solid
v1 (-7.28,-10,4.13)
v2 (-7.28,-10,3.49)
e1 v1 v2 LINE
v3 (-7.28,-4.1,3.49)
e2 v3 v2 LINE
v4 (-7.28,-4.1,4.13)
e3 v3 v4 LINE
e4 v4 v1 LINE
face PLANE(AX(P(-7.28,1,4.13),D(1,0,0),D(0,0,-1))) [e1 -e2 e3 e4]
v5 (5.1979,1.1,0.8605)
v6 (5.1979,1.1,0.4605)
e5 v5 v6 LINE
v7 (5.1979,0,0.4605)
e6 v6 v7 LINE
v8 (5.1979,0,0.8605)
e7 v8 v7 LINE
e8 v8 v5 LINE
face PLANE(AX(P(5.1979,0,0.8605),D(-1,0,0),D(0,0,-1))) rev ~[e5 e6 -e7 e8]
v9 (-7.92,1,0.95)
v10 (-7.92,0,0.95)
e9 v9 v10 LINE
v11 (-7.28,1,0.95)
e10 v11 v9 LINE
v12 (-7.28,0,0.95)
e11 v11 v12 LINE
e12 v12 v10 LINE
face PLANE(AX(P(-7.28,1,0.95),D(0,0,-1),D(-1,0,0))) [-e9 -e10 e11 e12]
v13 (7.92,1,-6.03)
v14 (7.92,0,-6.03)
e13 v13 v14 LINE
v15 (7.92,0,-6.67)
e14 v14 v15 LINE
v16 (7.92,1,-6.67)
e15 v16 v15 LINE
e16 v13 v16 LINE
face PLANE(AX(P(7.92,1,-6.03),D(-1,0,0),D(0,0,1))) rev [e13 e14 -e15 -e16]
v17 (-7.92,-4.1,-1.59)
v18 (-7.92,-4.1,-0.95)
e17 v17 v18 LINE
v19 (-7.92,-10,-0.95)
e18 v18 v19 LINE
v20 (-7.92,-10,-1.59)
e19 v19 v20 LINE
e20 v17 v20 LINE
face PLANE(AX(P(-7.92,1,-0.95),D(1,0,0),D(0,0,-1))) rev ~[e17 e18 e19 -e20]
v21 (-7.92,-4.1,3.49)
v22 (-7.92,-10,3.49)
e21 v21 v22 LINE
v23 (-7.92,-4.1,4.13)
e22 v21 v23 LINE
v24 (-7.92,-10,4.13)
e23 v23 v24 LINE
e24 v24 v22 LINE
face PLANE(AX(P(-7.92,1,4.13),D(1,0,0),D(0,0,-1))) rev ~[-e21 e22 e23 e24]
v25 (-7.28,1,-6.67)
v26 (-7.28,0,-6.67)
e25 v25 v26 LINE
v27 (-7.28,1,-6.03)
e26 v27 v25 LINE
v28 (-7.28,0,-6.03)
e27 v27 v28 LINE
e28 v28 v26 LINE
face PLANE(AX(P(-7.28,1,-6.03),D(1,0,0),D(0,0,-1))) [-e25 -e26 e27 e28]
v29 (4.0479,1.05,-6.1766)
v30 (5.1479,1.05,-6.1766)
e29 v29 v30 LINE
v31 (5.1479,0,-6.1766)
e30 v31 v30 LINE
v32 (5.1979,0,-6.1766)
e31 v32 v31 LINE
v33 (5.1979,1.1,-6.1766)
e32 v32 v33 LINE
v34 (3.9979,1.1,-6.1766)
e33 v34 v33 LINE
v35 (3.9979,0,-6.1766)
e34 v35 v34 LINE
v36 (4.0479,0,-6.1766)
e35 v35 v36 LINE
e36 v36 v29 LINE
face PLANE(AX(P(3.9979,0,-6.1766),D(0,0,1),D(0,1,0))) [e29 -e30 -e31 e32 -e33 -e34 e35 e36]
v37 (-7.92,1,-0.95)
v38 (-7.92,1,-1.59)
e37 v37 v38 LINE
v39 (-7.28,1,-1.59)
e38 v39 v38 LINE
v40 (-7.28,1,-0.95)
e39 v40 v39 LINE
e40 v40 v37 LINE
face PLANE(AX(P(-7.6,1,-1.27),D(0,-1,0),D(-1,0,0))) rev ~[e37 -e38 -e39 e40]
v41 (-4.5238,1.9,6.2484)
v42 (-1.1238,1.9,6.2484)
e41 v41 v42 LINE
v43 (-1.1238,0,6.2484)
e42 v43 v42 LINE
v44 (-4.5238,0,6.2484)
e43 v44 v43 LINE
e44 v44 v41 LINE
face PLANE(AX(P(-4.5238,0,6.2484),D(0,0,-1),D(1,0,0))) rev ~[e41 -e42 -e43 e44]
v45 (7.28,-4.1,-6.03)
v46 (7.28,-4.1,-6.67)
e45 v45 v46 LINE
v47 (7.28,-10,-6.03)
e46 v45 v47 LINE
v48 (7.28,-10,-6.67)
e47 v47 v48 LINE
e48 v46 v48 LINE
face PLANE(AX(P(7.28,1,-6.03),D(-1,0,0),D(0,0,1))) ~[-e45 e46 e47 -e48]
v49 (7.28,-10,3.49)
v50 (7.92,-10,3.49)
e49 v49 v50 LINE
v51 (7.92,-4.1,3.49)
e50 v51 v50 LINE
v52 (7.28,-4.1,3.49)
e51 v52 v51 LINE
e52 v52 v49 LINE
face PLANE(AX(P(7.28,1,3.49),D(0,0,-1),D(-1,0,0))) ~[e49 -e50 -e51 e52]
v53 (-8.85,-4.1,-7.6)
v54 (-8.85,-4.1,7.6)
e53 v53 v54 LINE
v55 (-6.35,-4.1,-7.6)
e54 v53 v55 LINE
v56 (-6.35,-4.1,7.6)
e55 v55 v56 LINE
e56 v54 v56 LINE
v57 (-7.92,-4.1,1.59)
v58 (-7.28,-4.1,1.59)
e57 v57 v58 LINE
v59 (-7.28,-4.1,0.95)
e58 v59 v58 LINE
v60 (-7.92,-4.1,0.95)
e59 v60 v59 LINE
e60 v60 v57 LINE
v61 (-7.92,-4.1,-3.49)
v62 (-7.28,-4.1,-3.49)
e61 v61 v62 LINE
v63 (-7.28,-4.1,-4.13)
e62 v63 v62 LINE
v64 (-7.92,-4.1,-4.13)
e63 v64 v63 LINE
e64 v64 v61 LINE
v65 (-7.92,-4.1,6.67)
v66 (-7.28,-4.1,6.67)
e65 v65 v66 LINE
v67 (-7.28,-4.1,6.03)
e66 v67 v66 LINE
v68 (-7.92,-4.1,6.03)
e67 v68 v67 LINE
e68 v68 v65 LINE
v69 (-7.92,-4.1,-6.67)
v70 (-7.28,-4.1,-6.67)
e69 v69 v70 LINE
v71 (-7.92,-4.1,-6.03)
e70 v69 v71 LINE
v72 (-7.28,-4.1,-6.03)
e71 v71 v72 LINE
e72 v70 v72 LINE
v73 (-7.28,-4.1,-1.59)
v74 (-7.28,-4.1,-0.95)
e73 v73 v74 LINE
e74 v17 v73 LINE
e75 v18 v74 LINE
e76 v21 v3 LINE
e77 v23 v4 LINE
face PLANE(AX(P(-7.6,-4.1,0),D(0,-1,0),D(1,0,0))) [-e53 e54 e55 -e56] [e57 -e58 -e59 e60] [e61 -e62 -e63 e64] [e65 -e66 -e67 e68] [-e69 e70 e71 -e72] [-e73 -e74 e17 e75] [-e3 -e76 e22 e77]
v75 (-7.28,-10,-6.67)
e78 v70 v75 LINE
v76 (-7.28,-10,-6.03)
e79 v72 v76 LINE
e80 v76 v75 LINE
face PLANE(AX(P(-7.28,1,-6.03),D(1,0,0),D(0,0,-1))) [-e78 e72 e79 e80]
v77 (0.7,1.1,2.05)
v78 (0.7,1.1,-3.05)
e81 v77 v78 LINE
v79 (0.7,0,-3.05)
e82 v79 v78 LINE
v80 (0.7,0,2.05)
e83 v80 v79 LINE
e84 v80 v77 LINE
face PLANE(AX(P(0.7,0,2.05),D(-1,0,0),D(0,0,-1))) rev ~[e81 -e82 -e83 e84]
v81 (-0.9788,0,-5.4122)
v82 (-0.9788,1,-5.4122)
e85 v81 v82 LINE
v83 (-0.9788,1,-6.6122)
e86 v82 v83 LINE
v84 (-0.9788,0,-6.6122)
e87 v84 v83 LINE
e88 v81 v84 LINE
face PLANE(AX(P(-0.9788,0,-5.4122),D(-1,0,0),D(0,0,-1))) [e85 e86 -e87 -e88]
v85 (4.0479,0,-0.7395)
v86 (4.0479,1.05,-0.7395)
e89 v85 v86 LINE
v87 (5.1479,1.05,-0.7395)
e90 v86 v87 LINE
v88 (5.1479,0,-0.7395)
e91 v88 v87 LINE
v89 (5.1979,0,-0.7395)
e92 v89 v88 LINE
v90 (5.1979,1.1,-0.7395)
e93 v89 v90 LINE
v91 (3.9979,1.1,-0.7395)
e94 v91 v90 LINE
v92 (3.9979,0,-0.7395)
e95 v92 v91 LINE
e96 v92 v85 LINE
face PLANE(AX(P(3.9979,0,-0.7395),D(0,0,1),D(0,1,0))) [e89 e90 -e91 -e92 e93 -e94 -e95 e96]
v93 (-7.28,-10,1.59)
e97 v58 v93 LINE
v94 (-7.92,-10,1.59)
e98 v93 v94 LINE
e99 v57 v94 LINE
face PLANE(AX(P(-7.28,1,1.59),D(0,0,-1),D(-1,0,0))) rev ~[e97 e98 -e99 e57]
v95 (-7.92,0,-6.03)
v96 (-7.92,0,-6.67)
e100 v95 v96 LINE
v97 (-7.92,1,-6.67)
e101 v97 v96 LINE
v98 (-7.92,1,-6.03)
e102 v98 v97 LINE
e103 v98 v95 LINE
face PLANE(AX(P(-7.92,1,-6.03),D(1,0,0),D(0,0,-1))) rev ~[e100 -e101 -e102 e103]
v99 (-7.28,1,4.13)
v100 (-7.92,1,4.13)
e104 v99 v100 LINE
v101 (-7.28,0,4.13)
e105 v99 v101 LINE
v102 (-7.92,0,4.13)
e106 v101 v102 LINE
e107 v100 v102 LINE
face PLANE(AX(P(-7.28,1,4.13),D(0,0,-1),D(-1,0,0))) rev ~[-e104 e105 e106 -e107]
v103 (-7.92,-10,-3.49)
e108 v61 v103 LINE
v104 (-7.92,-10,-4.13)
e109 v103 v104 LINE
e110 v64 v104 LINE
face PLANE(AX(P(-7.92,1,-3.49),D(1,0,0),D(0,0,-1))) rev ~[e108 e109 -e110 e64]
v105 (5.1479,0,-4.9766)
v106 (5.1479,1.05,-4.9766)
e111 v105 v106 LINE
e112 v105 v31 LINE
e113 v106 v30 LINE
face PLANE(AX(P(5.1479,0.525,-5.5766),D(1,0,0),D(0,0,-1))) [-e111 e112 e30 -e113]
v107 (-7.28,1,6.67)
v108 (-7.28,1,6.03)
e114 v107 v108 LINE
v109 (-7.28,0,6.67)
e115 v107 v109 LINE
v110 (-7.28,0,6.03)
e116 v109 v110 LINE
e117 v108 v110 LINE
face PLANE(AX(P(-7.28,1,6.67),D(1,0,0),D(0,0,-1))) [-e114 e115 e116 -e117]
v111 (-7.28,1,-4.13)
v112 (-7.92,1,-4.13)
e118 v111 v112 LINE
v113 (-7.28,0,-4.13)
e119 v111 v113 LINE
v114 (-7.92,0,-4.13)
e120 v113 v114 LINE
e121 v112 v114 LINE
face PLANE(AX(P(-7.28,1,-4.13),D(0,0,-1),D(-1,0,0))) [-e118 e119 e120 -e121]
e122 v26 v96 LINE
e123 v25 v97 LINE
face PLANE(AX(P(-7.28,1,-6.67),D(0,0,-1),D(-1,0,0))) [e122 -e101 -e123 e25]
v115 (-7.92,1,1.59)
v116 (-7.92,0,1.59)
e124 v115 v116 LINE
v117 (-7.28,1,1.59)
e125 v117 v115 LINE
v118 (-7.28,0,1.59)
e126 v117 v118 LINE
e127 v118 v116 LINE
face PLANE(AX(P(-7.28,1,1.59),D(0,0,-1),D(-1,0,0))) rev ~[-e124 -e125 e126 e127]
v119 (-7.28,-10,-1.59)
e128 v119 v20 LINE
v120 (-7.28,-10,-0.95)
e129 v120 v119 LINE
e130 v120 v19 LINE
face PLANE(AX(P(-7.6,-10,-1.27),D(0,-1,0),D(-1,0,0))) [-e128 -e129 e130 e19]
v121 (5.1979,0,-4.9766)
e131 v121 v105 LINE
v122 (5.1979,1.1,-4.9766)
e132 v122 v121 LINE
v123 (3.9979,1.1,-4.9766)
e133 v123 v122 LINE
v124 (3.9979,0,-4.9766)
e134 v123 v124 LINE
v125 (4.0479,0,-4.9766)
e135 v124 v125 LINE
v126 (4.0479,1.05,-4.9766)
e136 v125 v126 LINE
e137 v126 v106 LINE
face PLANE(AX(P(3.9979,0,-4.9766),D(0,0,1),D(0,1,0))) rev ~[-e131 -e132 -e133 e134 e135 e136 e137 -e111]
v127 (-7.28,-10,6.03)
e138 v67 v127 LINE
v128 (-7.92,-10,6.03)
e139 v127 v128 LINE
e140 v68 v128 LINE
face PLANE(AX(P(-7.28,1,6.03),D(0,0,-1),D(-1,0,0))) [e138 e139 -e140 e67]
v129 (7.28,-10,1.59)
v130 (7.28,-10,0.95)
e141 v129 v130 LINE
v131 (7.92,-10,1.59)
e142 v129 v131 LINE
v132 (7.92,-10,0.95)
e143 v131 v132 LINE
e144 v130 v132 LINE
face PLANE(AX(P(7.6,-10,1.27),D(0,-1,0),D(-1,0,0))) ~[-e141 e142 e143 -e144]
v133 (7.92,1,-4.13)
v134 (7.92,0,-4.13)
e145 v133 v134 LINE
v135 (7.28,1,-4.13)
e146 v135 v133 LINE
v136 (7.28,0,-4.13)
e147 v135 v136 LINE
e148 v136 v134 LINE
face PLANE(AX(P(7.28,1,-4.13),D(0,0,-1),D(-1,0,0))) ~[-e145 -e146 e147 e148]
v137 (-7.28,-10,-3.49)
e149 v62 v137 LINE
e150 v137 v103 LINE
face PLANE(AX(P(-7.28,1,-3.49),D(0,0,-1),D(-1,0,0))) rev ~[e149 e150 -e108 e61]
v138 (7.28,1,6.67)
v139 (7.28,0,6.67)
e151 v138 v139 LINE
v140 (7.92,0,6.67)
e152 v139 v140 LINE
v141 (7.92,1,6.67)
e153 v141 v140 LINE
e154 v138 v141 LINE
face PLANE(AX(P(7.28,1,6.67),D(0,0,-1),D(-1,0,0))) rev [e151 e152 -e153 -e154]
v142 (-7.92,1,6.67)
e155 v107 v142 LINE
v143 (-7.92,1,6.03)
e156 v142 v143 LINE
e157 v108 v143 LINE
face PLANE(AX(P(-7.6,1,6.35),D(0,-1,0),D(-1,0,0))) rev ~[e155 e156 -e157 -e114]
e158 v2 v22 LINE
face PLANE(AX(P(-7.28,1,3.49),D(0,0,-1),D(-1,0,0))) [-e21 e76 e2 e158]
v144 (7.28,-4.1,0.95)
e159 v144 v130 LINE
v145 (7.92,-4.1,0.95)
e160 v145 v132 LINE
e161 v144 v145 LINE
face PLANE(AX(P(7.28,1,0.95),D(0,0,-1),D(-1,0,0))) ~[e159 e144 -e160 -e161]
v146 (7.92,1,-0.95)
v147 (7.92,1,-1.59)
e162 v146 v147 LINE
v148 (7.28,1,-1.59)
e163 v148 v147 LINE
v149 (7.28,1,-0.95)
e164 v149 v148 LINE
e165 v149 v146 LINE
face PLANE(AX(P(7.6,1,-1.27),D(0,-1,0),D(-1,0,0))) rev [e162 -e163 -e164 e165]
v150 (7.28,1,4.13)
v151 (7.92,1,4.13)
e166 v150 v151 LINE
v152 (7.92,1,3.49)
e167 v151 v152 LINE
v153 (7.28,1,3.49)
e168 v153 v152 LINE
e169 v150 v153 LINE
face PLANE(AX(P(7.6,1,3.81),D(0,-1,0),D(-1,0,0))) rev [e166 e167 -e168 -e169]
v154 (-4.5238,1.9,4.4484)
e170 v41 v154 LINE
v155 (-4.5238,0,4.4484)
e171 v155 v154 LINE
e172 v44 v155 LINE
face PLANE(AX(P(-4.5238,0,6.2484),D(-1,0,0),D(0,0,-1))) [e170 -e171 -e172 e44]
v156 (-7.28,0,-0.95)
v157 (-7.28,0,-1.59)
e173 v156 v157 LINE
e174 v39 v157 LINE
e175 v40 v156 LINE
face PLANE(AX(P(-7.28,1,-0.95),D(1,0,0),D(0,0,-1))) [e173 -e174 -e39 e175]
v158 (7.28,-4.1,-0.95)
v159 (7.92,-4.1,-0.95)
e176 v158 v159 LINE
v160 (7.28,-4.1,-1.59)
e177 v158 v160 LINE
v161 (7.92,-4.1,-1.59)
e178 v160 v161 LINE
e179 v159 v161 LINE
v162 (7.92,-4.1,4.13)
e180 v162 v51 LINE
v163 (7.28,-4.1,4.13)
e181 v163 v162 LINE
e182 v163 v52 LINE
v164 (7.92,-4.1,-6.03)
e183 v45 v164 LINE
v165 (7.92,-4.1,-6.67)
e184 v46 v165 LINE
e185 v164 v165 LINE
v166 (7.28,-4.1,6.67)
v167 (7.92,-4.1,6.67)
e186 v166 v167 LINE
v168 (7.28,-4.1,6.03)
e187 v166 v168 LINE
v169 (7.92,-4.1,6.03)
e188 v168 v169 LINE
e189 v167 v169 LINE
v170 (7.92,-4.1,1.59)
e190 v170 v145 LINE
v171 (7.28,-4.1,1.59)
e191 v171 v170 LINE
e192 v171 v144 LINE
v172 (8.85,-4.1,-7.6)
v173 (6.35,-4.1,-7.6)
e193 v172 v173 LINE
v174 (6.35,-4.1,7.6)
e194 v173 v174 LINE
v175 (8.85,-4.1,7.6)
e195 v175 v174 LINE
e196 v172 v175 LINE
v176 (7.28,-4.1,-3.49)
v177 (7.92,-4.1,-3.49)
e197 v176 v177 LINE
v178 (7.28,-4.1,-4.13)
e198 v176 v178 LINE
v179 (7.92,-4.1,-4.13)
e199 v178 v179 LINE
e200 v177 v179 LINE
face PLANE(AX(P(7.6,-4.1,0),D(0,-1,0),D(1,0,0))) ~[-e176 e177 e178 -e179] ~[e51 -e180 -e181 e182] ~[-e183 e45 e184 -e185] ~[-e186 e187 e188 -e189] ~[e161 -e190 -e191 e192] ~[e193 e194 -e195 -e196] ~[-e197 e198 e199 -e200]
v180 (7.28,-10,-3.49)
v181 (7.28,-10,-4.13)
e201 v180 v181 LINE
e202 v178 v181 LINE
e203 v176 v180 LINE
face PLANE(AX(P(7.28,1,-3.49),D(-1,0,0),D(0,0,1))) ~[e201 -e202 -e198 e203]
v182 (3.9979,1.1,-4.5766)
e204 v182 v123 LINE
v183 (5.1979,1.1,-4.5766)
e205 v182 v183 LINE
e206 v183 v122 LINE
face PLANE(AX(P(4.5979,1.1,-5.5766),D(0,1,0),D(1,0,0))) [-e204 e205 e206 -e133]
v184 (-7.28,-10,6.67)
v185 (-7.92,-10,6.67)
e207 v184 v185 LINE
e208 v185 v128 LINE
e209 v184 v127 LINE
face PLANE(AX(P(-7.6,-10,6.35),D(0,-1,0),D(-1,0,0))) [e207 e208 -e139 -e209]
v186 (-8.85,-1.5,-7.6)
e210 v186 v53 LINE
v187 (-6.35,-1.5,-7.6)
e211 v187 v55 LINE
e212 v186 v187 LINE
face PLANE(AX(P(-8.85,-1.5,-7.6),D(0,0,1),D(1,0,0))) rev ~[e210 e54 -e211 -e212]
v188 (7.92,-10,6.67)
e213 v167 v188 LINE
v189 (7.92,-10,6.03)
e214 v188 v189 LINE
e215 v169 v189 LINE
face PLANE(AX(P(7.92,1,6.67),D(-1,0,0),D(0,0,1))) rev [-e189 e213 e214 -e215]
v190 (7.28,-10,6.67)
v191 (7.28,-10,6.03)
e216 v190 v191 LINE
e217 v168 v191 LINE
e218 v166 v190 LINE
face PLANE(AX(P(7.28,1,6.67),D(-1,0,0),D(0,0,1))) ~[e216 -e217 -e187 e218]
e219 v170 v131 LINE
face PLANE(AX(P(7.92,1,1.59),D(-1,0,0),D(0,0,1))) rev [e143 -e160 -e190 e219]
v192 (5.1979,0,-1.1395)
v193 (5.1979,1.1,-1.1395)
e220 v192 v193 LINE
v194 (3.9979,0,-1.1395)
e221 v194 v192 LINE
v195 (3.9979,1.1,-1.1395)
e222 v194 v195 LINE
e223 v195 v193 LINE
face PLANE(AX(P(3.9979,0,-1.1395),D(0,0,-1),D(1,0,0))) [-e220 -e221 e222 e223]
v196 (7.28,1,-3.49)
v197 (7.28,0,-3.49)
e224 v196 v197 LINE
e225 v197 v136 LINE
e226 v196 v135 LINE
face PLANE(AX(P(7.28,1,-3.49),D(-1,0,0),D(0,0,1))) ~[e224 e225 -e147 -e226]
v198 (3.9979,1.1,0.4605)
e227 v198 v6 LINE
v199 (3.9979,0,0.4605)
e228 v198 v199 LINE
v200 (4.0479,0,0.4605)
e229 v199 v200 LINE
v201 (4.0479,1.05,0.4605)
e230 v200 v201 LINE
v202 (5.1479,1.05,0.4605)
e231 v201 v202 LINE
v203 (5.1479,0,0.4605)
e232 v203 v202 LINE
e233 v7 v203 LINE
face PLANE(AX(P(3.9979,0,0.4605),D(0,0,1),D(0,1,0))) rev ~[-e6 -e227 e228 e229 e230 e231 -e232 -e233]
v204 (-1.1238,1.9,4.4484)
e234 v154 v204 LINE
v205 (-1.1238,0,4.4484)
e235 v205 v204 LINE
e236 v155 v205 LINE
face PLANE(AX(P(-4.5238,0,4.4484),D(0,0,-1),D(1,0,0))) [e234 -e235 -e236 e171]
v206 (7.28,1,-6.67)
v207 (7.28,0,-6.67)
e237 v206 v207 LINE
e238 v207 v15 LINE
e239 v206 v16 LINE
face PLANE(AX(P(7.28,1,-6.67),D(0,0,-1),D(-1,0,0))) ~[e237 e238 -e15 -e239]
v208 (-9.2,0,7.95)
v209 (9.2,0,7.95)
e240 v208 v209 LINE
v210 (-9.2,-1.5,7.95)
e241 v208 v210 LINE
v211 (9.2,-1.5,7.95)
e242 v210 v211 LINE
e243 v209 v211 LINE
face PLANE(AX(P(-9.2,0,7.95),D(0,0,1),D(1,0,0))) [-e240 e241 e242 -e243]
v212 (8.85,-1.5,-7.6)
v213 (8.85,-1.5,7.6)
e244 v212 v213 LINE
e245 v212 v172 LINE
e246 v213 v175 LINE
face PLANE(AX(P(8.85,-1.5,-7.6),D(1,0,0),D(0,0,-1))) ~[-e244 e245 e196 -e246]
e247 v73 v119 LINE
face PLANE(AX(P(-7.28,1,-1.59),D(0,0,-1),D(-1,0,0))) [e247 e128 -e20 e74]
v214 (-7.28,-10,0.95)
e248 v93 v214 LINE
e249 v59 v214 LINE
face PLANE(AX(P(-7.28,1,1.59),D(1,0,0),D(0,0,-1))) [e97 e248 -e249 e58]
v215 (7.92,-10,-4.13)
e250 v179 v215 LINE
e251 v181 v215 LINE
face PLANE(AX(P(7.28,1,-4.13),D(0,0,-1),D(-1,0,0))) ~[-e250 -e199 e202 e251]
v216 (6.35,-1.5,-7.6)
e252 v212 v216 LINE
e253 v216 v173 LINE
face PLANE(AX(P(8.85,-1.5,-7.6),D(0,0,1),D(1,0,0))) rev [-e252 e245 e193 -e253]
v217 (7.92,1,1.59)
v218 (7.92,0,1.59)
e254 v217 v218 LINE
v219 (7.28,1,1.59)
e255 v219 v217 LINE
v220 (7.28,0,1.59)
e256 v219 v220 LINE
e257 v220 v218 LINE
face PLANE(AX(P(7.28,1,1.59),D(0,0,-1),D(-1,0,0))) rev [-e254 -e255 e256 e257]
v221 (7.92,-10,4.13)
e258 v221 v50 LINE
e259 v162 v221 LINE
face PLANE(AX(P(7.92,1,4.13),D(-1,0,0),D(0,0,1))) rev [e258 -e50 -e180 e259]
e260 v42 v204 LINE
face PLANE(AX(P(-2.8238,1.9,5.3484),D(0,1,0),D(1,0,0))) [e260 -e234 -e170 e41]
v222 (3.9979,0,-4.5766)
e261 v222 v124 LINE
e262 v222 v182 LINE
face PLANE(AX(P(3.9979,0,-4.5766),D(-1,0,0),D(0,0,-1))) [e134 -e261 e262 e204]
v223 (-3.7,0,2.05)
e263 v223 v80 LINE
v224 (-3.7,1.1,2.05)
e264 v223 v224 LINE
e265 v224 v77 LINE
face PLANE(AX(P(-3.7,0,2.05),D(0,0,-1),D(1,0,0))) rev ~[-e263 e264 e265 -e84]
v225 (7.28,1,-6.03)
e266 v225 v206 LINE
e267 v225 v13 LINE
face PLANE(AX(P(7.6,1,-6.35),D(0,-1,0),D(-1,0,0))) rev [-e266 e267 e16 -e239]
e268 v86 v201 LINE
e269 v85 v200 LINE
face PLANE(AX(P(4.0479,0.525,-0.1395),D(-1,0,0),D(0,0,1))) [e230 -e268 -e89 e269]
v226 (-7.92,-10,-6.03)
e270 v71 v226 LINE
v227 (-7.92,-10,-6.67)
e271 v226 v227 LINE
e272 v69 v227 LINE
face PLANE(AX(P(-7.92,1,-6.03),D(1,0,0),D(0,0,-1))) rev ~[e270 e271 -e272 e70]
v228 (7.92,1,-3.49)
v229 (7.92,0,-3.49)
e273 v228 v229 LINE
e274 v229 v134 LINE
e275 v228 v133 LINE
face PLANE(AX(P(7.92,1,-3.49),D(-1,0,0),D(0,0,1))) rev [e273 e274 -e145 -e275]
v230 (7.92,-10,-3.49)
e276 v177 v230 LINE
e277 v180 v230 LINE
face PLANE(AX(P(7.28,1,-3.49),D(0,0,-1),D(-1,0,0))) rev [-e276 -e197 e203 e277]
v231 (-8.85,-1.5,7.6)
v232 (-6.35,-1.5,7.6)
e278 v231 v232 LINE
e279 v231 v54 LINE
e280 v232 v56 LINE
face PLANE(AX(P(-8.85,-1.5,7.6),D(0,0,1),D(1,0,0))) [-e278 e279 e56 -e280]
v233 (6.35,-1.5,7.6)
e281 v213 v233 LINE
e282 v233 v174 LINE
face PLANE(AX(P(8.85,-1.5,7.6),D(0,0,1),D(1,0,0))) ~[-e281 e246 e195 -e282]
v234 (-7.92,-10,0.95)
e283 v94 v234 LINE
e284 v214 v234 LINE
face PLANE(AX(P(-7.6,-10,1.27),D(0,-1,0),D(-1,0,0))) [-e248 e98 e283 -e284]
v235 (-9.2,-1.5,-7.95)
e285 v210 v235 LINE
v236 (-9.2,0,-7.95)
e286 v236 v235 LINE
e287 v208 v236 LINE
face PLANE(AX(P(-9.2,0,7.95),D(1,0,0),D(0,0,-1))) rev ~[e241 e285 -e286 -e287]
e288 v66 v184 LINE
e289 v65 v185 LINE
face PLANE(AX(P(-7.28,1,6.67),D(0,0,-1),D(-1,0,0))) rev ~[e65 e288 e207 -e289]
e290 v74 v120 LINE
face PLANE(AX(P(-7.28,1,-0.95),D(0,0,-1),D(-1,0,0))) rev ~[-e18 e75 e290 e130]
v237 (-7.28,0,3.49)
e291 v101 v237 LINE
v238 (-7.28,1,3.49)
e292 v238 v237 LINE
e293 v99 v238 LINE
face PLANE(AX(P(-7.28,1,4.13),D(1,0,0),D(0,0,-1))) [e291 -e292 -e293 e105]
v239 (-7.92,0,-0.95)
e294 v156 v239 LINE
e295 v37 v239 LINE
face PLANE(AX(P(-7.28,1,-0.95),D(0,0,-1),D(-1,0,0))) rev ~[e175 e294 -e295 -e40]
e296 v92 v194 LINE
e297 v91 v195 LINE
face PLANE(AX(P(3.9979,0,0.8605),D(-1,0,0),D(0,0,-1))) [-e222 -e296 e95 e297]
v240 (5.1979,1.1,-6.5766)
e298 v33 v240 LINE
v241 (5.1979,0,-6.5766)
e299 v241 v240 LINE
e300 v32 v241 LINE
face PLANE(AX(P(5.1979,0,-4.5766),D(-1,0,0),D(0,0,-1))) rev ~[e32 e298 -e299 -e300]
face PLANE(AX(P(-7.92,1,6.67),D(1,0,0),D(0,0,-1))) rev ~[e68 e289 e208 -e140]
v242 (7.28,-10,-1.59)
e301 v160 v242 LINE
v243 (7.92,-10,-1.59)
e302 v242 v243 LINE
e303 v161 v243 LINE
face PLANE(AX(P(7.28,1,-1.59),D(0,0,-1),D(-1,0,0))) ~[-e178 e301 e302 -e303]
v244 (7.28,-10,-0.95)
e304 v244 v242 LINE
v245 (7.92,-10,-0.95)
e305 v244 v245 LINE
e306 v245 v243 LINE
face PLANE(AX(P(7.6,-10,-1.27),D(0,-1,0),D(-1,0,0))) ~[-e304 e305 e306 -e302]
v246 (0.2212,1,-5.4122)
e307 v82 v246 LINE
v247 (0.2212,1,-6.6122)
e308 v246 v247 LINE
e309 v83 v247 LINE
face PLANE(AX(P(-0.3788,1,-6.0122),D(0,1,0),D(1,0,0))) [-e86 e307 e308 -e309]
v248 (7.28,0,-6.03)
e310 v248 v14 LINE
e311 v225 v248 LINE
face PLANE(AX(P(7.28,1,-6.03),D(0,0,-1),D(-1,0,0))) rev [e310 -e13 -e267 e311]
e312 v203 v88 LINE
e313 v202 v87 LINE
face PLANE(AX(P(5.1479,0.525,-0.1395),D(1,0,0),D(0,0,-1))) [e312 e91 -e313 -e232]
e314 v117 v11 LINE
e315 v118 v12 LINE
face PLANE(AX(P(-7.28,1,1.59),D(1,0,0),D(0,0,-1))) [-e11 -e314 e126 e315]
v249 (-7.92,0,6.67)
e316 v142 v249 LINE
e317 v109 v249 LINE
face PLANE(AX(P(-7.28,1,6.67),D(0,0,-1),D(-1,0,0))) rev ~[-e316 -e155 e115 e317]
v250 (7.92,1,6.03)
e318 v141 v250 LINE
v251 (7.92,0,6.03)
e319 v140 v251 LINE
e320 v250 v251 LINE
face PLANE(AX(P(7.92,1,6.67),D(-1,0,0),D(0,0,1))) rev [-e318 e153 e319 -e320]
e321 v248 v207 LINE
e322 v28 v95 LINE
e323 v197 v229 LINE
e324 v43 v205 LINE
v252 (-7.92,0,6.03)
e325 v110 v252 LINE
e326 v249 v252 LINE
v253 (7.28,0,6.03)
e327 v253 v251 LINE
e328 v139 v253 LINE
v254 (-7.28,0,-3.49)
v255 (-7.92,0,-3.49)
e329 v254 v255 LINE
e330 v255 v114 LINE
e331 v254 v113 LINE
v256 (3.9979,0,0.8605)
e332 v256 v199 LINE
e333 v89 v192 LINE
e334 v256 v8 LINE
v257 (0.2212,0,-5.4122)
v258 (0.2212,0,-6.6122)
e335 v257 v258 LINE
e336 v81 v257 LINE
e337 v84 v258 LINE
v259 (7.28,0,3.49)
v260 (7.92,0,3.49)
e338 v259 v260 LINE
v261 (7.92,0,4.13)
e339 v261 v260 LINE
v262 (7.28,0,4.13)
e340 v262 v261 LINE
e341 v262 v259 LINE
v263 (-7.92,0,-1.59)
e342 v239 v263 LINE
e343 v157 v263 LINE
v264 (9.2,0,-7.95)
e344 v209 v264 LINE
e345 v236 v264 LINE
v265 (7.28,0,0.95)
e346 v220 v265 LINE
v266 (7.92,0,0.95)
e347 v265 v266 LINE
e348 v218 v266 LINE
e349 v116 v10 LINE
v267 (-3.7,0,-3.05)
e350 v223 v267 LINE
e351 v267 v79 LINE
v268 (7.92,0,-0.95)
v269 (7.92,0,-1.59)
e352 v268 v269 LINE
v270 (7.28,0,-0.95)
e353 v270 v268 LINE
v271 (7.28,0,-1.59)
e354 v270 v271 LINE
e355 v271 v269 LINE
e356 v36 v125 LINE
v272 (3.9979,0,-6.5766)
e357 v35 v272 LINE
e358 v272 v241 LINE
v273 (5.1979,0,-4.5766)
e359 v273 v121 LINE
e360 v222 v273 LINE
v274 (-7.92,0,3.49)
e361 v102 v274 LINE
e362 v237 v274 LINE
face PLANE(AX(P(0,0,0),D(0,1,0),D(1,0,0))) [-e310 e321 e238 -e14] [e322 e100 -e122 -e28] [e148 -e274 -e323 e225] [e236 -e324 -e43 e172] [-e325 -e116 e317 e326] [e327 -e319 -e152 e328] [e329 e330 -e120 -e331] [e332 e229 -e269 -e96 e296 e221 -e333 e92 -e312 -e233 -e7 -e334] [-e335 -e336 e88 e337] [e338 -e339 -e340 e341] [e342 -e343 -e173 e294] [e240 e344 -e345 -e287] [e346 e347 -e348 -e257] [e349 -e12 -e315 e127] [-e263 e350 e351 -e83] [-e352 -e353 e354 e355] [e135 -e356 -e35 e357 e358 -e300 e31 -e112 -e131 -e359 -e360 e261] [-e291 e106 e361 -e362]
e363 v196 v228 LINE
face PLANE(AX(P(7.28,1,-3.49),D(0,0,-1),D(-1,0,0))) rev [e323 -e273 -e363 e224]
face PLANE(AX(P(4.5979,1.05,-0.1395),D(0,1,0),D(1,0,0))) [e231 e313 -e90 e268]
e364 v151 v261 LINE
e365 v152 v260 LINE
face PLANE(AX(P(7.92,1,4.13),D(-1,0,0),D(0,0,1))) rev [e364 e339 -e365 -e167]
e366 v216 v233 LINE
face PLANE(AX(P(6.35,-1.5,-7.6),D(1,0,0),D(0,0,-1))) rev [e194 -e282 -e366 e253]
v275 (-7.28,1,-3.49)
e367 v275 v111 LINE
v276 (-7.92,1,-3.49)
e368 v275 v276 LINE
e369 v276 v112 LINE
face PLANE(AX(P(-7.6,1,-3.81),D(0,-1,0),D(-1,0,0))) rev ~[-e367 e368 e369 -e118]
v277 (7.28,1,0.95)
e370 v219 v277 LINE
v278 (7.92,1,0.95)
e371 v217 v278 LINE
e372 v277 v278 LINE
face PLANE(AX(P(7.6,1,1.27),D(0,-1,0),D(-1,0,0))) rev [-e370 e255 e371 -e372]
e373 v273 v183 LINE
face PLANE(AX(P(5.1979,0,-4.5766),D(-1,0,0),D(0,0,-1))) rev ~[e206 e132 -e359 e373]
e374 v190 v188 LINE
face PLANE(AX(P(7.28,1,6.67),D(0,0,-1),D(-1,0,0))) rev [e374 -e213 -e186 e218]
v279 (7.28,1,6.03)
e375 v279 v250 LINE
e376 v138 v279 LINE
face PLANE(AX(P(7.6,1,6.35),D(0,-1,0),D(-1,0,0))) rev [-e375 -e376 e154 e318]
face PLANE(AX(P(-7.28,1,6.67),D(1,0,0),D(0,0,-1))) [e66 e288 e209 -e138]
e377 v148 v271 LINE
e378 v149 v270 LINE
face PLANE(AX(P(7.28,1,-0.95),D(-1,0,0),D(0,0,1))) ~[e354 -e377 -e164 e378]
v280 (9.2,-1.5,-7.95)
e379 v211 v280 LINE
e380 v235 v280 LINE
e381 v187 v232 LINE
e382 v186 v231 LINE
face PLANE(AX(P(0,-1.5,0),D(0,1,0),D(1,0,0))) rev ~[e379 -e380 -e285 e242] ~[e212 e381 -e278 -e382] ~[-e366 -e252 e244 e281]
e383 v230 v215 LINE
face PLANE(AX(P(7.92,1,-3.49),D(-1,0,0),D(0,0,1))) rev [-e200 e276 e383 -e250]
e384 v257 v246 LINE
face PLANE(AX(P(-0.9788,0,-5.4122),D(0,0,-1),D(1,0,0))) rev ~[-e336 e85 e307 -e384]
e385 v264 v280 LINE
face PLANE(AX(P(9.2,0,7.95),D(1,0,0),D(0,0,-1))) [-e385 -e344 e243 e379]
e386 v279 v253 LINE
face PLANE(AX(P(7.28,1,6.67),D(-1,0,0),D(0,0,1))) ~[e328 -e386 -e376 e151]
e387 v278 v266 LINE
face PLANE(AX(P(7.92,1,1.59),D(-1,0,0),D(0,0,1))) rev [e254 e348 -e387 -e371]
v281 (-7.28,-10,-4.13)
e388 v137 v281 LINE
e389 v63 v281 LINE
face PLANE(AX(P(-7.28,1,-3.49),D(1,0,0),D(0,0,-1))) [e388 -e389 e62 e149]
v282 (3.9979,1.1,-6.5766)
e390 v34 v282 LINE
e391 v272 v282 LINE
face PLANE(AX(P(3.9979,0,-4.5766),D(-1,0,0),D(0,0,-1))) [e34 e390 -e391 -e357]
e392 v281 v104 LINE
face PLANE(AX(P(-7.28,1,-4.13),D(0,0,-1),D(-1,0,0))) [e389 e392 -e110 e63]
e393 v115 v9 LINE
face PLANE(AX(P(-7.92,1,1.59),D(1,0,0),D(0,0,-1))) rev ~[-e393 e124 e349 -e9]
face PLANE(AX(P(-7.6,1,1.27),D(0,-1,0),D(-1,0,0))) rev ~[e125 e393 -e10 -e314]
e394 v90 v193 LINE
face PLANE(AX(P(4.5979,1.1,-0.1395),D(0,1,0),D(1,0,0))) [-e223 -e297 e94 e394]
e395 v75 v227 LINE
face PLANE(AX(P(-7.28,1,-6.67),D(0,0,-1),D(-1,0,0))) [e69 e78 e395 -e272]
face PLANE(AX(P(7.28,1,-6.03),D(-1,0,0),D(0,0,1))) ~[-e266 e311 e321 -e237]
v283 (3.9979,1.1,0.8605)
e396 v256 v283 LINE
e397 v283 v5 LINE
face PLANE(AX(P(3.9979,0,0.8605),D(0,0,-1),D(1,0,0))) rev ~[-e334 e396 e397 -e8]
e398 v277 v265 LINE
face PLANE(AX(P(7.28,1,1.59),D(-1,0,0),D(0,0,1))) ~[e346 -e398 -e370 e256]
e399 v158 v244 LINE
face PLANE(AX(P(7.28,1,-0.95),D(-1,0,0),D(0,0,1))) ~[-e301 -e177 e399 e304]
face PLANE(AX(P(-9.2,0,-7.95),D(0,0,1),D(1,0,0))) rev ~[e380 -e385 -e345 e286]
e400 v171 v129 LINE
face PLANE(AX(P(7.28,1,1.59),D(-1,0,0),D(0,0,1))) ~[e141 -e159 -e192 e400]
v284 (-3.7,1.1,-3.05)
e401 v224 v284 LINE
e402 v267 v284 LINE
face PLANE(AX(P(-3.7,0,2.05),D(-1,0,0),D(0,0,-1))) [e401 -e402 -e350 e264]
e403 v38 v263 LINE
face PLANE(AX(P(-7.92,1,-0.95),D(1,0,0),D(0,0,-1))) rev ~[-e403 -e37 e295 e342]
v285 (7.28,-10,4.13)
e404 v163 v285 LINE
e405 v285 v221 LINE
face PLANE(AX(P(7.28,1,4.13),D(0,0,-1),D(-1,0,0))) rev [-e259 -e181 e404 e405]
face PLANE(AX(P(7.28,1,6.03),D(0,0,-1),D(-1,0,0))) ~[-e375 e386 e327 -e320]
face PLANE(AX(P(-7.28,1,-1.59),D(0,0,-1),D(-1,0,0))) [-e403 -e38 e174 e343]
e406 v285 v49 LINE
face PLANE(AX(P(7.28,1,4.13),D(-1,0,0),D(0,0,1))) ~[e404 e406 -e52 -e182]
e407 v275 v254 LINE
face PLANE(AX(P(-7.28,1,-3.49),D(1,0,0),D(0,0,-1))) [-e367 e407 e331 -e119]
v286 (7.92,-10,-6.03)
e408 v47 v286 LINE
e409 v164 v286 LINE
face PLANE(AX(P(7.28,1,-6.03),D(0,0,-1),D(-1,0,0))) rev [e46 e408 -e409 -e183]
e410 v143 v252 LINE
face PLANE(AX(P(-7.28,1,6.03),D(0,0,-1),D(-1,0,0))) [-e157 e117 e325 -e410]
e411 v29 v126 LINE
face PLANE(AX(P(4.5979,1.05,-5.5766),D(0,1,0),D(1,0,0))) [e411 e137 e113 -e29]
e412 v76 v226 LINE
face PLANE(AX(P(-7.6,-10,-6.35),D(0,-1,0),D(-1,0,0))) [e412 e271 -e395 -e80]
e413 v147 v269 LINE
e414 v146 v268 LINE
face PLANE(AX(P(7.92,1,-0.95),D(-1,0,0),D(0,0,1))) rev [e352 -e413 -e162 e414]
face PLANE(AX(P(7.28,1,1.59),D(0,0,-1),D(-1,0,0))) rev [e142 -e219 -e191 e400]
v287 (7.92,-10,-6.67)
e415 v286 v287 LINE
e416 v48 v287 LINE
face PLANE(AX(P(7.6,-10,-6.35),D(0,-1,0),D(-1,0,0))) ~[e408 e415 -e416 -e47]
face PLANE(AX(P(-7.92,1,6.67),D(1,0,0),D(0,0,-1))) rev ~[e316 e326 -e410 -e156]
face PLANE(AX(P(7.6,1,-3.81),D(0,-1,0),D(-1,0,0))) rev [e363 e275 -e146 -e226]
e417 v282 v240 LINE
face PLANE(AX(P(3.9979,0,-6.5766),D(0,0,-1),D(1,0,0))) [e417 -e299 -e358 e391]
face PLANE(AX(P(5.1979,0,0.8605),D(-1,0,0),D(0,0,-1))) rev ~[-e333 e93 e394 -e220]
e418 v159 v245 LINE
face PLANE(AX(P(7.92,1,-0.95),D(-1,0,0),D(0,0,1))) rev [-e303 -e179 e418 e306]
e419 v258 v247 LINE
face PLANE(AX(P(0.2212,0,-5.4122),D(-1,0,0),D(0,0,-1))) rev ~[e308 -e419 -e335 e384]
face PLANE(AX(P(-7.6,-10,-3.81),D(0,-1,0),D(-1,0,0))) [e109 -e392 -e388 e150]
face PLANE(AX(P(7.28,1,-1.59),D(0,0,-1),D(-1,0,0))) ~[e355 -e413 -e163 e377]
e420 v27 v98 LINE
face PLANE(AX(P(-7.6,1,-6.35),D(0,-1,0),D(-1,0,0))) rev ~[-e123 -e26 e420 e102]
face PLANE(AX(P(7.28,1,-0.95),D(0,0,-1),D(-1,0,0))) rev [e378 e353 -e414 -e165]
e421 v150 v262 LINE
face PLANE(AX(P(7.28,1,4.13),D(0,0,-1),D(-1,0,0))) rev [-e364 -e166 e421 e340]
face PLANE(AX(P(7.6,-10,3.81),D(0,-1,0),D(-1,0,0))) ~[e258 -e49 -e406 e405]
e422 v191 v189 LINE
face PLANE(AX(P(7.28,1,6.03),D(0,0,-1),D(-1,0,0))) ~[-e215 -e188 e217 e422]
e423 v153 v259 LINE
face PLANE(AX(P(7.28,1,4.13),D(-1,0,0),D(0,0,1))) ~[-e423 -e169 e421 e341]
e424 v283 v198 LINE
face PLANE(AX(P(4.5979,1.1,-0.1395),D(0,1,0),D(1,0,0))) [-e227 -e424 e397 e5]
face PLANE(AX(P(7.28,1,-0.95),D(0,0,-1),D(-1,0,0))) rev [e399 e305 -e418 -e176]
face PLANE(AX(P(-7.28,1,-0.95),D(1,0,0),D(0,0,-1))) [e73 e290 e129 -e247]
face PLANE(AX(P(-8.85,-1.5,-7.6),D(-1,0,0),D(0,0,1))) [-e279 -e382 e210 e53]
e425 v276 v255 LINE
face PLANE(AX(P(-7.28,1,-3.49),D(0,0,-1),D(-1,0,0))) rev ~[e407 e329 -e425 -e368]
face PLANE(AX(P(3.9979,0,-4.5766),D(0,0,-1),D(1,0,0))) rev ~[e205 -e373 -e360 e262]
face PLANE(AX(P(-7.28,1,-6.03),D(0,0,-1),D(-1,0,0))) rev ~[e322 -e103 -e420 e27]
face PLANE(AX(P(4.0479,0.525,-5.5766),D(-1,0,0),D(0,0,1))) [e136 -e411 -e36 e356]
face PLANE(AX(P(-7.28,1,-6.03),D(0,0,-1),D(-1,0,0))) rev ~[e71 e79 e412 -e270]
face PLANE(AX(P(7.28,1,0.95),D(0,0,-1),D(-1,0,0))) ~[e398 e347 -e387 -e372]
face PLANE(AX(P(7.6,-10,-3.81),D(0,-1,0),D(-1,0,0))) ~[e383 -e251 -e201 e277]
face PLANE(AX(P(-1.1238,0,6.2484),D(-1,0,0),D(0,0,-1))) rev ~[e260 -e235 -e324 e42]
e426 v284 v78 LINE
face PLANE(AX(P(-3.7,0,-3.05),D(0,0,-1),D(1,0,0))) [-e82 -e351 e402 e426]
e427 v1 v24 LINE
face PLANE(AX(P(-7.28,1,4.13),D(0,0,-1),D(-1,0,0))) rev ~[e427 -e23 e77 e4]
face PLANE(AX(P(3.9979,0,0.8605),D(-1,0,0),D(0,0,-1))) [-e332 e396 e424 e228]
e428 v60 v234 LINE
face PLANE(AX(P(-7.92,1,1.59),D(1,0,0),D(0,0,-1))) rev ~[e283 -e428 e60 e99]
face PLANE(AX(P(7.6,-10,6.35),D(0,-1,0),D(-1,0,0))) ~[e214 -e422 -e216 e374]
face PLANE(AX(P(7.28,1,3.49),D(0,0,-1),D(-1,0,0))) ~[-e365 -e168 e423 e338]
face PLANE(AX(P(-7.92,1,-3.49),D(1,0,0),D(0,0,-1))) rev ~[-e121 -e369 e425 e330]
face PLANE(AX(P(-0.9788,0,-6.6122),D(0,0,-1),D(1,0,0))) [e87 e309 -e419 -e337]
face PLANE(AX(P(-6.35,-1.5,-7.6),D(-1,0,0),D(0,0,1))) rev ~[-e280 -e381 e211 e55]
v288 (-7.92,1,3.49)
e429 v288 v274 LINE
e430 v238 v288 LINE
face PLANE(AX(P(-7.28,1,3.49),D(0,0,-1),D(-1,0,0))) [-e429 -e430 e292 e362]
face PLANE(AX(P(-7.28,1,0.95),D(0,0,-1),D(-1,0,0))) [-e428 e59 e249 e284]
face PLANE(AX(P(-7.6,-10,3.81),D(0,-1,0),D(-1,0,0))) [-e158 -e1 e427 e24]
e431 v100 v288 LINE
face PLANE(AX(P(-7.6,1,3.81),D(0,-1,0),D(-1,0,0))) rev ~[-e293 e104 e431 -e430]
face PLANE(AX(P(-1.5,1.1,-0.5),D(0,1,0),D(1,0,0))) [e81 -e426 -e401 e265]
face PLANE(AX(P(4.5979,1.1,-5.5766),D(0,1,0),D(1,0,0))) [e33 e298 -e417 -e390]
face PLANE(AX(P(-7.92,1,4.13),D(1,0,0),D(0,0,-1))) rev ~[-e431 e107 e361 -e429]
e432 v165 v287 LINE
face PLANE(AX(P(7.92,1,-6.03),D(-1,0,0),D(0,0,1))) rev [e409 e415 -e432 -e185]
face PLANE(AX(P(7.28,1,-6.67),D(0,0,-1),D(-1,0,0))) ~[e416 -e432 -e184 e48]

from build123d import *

# Parameters (mm, degrees)
SKETCH1_W           = 18.4
SKETCH1_H           = 15.9
BOSS_EXTRUDE1_DEPTH = 1.5
SKETCH2_W           = 2.5
SKETCH2_H           = 15.2
BOSS_EXTRUDE2_DEPTH = 2.6
BOSS_EXTRUDE3_START = -5.1
SKETCH3_W           = 0.64
SKETCH3_H           = 0.64
BOSS_EXTRUDE3_DEPTH = 11
SKETCH5_W           = 4.4
SKETCH5_H           = 5.1
SKETCH5_W_2         = 1.2
SKETCH5_H_2         = 2
BOSS_EXTRUDE4_DEPTH = 1.1
SKETCH6_W           = 1.2
SKETCH6_H           = 1.2
BOSS_EXTRUDE5_DEPTH = 1
SKETCH7_W           = 3.4
SKETCH7_H           = 1.8
BOSS_EXTRUDE6_DEPTH = 1.9
SKETCH8_W           = 1.2
SKETCH8_H           = 1.2
CUT_EXTRUDE1_DEPTH  = 0.05
SKETCH9_W           = 1.2
SKETCH9_H           = 1.05
CUT_EXTRUDE2_DEPTH  = 0.05
SKETCH10_W          = 1.2
SKETCH10_H          = 1.05
CUT_EXTRUDE3_DEPTH  = 0.05


with BuildPart() as part:
    # Sketch1 → Boss-Extrude1 (new body)
    with BuildSketch(Plane(origin=(0, 0, 0), x_dir=(1, 0, 0), z_dir=(0, 1, 0))):
        Rectangle(SKETCH1_W, SKETCH1_H)
    extrude(amount=-BOSS_EXTRUDE1_DEPTH)

    # Sketch2 → Boss-Extrude2 (add)
    with BuildSketch(Plane.XZ.offset(1.5)):
        with Locations((-7.6, 0)):
            Rectangle(SKETCH2_W, SKETCH2_H)
    boss_extrude2 = extrude(amount=BOSS_EXTRUDE2_DEPTH)

    # Sketch3 → Boss-Extrude3 (add)
    with BuildSketch(Plane(origin=(0, -4.1, 0), x_dir=(-1, 0, 0), z_dir=(0, -1, 0)).offset(BOSS_EXTRUDE3_START)):
        with Locations((7.6, -6.35)):
            Rectangle(SKETCH3_W, SKETCH3_H)
        with Locations((7.6, -3.81)):
            Rectangle(SKETCH3_W, SKETCH3_H)
        with Locations((7.6, -1.27)):
            Rectangle(SKETCH3_W, SKETCH3_H)
        with Locations((7.6, 1.27)):
            Rectangle(SKETCH3_W, SKETCH3_H)
        with Locations((7.6, 6.35)):
            Rectangle(SKETCH3_W, SKETCH3_H)
        with Locations((7.6, 3.81)):
            Rectangle(SKETCH3_W, SKETCH3_H)
    boss_extrude3 = extrude(amount=BOSS_EXTRUDE3_DEPTH)

    # Mirror1: Boss-Extrude2, Boss-Extrude3 across plane
    add(boss_extrude2.mirror(Plane(origin=(0, 0, 0), x_dir=(0, 0, 1), z_dir=(1, 0, 0))))
    add(boss_extrude3.mirror(Plane(origin=(0, 0, 0), x_dir=(0, 0, 1), z_dir=(1, 0, 0))))

    # Sketch5 → Boss-Extrude4 (add)
    with BuildSketch(Plane(origin=(0, 0, 0), x_dir=(1, 0, 0), z_dir=(0, 1, 0))):
        with Locations((-1.5, 0.5)):
            Rectangle(SKETCH5_W, SKETCH5_H)
        with Locations((4.5979, 0.1395)):
            Rectangle(SKETCH5_W_2, SKETCH5_H_2)
        with Locations((4.5979, 5.5766)):
            Rectangle(SKETCH5_W_2, SKETCH5_H_2)
    extrude(amount=BOSS_EXTRUDE4_DEPTH)

    # Sketch6 → Boss-Extrude5 (add)
    with BuildSketch(Plane(origin=(0, 0, 0), x_dir=(1, 0, 0), z_dir=(0, 1, 0))):
        with Locations((-0.3788, 6.0122)):
            Rectangle(SKETCH6_W, SKETCH6_H)
    extrude(amount=BOSS_EXTRUDE5_DEPTH)

    # Sketch7 → Boss-Extrude6 (add)
    with BuildSketch(Plane(origin=(0, 0, 0), x_dir=(1, 0, 0), z_dir=(0, 1, 0))):
        with Locations((-2.8238, -5.3484)):
            Rectangle(SKETCH7_W, SKETCH7_H)
    extrude(amount=BOSS_EXTRUDE6_DEPTH)

    # Sketch8 → Cut-Extrude1 (cut)
    with BuildSketch(Plane(origin=(0, 1.1, 0), x_dir=(1, 0, 0), z_dir=(0, 1, 0))):
        with Locations((4.5979, 5.5766)):
            Rectangle(SKETCH8_W, SKETCH8_H)
        with Locations((4.5979, 0.1395)):
            Rectangle(SKETCH8_W, SKETCH8_H)
    extrude(amount=-CUT_EXTRUDE1_DEPTH, mode=Mode.SUBTRACT)

    # Sketch9 → Cut-Extrude2 (cut)
    with BuildSketch(Plane.ZY.offset(-3.9979)):
        with Locations((-0.1395, 0.525)):
            Rectangle(SKETCH9_W, SKETCH9_H)
        with Locations((-5.5766, 0.525)):
            Rectangle(SKETCH9_W, SKETCH9_H)
    extrude(amount=-CUT_EXTRUDE2_DEPTH, mode=Mode.SUBTRACT)

    # Sketch10 → Cut-Extrude3 (cut)
    with BuildSketch(Plane(origin=(5.1979, 0, 0), x_dir=(0, 0, -1), z_dir=(1, 0, 0))):
        with Locations((0.1395, 0.525)):
            Rectangle(SKETCH10_W, SKETCH10_H)
        with Locations((5.5766, 0.525)):
            Rectangle(SKETCH10_W, SKETCH10_H)
    extrude(amount=-CUT_EXTRUDE3_DEPTH, mode=Mode.SUBTRACT)


solid = part.part
